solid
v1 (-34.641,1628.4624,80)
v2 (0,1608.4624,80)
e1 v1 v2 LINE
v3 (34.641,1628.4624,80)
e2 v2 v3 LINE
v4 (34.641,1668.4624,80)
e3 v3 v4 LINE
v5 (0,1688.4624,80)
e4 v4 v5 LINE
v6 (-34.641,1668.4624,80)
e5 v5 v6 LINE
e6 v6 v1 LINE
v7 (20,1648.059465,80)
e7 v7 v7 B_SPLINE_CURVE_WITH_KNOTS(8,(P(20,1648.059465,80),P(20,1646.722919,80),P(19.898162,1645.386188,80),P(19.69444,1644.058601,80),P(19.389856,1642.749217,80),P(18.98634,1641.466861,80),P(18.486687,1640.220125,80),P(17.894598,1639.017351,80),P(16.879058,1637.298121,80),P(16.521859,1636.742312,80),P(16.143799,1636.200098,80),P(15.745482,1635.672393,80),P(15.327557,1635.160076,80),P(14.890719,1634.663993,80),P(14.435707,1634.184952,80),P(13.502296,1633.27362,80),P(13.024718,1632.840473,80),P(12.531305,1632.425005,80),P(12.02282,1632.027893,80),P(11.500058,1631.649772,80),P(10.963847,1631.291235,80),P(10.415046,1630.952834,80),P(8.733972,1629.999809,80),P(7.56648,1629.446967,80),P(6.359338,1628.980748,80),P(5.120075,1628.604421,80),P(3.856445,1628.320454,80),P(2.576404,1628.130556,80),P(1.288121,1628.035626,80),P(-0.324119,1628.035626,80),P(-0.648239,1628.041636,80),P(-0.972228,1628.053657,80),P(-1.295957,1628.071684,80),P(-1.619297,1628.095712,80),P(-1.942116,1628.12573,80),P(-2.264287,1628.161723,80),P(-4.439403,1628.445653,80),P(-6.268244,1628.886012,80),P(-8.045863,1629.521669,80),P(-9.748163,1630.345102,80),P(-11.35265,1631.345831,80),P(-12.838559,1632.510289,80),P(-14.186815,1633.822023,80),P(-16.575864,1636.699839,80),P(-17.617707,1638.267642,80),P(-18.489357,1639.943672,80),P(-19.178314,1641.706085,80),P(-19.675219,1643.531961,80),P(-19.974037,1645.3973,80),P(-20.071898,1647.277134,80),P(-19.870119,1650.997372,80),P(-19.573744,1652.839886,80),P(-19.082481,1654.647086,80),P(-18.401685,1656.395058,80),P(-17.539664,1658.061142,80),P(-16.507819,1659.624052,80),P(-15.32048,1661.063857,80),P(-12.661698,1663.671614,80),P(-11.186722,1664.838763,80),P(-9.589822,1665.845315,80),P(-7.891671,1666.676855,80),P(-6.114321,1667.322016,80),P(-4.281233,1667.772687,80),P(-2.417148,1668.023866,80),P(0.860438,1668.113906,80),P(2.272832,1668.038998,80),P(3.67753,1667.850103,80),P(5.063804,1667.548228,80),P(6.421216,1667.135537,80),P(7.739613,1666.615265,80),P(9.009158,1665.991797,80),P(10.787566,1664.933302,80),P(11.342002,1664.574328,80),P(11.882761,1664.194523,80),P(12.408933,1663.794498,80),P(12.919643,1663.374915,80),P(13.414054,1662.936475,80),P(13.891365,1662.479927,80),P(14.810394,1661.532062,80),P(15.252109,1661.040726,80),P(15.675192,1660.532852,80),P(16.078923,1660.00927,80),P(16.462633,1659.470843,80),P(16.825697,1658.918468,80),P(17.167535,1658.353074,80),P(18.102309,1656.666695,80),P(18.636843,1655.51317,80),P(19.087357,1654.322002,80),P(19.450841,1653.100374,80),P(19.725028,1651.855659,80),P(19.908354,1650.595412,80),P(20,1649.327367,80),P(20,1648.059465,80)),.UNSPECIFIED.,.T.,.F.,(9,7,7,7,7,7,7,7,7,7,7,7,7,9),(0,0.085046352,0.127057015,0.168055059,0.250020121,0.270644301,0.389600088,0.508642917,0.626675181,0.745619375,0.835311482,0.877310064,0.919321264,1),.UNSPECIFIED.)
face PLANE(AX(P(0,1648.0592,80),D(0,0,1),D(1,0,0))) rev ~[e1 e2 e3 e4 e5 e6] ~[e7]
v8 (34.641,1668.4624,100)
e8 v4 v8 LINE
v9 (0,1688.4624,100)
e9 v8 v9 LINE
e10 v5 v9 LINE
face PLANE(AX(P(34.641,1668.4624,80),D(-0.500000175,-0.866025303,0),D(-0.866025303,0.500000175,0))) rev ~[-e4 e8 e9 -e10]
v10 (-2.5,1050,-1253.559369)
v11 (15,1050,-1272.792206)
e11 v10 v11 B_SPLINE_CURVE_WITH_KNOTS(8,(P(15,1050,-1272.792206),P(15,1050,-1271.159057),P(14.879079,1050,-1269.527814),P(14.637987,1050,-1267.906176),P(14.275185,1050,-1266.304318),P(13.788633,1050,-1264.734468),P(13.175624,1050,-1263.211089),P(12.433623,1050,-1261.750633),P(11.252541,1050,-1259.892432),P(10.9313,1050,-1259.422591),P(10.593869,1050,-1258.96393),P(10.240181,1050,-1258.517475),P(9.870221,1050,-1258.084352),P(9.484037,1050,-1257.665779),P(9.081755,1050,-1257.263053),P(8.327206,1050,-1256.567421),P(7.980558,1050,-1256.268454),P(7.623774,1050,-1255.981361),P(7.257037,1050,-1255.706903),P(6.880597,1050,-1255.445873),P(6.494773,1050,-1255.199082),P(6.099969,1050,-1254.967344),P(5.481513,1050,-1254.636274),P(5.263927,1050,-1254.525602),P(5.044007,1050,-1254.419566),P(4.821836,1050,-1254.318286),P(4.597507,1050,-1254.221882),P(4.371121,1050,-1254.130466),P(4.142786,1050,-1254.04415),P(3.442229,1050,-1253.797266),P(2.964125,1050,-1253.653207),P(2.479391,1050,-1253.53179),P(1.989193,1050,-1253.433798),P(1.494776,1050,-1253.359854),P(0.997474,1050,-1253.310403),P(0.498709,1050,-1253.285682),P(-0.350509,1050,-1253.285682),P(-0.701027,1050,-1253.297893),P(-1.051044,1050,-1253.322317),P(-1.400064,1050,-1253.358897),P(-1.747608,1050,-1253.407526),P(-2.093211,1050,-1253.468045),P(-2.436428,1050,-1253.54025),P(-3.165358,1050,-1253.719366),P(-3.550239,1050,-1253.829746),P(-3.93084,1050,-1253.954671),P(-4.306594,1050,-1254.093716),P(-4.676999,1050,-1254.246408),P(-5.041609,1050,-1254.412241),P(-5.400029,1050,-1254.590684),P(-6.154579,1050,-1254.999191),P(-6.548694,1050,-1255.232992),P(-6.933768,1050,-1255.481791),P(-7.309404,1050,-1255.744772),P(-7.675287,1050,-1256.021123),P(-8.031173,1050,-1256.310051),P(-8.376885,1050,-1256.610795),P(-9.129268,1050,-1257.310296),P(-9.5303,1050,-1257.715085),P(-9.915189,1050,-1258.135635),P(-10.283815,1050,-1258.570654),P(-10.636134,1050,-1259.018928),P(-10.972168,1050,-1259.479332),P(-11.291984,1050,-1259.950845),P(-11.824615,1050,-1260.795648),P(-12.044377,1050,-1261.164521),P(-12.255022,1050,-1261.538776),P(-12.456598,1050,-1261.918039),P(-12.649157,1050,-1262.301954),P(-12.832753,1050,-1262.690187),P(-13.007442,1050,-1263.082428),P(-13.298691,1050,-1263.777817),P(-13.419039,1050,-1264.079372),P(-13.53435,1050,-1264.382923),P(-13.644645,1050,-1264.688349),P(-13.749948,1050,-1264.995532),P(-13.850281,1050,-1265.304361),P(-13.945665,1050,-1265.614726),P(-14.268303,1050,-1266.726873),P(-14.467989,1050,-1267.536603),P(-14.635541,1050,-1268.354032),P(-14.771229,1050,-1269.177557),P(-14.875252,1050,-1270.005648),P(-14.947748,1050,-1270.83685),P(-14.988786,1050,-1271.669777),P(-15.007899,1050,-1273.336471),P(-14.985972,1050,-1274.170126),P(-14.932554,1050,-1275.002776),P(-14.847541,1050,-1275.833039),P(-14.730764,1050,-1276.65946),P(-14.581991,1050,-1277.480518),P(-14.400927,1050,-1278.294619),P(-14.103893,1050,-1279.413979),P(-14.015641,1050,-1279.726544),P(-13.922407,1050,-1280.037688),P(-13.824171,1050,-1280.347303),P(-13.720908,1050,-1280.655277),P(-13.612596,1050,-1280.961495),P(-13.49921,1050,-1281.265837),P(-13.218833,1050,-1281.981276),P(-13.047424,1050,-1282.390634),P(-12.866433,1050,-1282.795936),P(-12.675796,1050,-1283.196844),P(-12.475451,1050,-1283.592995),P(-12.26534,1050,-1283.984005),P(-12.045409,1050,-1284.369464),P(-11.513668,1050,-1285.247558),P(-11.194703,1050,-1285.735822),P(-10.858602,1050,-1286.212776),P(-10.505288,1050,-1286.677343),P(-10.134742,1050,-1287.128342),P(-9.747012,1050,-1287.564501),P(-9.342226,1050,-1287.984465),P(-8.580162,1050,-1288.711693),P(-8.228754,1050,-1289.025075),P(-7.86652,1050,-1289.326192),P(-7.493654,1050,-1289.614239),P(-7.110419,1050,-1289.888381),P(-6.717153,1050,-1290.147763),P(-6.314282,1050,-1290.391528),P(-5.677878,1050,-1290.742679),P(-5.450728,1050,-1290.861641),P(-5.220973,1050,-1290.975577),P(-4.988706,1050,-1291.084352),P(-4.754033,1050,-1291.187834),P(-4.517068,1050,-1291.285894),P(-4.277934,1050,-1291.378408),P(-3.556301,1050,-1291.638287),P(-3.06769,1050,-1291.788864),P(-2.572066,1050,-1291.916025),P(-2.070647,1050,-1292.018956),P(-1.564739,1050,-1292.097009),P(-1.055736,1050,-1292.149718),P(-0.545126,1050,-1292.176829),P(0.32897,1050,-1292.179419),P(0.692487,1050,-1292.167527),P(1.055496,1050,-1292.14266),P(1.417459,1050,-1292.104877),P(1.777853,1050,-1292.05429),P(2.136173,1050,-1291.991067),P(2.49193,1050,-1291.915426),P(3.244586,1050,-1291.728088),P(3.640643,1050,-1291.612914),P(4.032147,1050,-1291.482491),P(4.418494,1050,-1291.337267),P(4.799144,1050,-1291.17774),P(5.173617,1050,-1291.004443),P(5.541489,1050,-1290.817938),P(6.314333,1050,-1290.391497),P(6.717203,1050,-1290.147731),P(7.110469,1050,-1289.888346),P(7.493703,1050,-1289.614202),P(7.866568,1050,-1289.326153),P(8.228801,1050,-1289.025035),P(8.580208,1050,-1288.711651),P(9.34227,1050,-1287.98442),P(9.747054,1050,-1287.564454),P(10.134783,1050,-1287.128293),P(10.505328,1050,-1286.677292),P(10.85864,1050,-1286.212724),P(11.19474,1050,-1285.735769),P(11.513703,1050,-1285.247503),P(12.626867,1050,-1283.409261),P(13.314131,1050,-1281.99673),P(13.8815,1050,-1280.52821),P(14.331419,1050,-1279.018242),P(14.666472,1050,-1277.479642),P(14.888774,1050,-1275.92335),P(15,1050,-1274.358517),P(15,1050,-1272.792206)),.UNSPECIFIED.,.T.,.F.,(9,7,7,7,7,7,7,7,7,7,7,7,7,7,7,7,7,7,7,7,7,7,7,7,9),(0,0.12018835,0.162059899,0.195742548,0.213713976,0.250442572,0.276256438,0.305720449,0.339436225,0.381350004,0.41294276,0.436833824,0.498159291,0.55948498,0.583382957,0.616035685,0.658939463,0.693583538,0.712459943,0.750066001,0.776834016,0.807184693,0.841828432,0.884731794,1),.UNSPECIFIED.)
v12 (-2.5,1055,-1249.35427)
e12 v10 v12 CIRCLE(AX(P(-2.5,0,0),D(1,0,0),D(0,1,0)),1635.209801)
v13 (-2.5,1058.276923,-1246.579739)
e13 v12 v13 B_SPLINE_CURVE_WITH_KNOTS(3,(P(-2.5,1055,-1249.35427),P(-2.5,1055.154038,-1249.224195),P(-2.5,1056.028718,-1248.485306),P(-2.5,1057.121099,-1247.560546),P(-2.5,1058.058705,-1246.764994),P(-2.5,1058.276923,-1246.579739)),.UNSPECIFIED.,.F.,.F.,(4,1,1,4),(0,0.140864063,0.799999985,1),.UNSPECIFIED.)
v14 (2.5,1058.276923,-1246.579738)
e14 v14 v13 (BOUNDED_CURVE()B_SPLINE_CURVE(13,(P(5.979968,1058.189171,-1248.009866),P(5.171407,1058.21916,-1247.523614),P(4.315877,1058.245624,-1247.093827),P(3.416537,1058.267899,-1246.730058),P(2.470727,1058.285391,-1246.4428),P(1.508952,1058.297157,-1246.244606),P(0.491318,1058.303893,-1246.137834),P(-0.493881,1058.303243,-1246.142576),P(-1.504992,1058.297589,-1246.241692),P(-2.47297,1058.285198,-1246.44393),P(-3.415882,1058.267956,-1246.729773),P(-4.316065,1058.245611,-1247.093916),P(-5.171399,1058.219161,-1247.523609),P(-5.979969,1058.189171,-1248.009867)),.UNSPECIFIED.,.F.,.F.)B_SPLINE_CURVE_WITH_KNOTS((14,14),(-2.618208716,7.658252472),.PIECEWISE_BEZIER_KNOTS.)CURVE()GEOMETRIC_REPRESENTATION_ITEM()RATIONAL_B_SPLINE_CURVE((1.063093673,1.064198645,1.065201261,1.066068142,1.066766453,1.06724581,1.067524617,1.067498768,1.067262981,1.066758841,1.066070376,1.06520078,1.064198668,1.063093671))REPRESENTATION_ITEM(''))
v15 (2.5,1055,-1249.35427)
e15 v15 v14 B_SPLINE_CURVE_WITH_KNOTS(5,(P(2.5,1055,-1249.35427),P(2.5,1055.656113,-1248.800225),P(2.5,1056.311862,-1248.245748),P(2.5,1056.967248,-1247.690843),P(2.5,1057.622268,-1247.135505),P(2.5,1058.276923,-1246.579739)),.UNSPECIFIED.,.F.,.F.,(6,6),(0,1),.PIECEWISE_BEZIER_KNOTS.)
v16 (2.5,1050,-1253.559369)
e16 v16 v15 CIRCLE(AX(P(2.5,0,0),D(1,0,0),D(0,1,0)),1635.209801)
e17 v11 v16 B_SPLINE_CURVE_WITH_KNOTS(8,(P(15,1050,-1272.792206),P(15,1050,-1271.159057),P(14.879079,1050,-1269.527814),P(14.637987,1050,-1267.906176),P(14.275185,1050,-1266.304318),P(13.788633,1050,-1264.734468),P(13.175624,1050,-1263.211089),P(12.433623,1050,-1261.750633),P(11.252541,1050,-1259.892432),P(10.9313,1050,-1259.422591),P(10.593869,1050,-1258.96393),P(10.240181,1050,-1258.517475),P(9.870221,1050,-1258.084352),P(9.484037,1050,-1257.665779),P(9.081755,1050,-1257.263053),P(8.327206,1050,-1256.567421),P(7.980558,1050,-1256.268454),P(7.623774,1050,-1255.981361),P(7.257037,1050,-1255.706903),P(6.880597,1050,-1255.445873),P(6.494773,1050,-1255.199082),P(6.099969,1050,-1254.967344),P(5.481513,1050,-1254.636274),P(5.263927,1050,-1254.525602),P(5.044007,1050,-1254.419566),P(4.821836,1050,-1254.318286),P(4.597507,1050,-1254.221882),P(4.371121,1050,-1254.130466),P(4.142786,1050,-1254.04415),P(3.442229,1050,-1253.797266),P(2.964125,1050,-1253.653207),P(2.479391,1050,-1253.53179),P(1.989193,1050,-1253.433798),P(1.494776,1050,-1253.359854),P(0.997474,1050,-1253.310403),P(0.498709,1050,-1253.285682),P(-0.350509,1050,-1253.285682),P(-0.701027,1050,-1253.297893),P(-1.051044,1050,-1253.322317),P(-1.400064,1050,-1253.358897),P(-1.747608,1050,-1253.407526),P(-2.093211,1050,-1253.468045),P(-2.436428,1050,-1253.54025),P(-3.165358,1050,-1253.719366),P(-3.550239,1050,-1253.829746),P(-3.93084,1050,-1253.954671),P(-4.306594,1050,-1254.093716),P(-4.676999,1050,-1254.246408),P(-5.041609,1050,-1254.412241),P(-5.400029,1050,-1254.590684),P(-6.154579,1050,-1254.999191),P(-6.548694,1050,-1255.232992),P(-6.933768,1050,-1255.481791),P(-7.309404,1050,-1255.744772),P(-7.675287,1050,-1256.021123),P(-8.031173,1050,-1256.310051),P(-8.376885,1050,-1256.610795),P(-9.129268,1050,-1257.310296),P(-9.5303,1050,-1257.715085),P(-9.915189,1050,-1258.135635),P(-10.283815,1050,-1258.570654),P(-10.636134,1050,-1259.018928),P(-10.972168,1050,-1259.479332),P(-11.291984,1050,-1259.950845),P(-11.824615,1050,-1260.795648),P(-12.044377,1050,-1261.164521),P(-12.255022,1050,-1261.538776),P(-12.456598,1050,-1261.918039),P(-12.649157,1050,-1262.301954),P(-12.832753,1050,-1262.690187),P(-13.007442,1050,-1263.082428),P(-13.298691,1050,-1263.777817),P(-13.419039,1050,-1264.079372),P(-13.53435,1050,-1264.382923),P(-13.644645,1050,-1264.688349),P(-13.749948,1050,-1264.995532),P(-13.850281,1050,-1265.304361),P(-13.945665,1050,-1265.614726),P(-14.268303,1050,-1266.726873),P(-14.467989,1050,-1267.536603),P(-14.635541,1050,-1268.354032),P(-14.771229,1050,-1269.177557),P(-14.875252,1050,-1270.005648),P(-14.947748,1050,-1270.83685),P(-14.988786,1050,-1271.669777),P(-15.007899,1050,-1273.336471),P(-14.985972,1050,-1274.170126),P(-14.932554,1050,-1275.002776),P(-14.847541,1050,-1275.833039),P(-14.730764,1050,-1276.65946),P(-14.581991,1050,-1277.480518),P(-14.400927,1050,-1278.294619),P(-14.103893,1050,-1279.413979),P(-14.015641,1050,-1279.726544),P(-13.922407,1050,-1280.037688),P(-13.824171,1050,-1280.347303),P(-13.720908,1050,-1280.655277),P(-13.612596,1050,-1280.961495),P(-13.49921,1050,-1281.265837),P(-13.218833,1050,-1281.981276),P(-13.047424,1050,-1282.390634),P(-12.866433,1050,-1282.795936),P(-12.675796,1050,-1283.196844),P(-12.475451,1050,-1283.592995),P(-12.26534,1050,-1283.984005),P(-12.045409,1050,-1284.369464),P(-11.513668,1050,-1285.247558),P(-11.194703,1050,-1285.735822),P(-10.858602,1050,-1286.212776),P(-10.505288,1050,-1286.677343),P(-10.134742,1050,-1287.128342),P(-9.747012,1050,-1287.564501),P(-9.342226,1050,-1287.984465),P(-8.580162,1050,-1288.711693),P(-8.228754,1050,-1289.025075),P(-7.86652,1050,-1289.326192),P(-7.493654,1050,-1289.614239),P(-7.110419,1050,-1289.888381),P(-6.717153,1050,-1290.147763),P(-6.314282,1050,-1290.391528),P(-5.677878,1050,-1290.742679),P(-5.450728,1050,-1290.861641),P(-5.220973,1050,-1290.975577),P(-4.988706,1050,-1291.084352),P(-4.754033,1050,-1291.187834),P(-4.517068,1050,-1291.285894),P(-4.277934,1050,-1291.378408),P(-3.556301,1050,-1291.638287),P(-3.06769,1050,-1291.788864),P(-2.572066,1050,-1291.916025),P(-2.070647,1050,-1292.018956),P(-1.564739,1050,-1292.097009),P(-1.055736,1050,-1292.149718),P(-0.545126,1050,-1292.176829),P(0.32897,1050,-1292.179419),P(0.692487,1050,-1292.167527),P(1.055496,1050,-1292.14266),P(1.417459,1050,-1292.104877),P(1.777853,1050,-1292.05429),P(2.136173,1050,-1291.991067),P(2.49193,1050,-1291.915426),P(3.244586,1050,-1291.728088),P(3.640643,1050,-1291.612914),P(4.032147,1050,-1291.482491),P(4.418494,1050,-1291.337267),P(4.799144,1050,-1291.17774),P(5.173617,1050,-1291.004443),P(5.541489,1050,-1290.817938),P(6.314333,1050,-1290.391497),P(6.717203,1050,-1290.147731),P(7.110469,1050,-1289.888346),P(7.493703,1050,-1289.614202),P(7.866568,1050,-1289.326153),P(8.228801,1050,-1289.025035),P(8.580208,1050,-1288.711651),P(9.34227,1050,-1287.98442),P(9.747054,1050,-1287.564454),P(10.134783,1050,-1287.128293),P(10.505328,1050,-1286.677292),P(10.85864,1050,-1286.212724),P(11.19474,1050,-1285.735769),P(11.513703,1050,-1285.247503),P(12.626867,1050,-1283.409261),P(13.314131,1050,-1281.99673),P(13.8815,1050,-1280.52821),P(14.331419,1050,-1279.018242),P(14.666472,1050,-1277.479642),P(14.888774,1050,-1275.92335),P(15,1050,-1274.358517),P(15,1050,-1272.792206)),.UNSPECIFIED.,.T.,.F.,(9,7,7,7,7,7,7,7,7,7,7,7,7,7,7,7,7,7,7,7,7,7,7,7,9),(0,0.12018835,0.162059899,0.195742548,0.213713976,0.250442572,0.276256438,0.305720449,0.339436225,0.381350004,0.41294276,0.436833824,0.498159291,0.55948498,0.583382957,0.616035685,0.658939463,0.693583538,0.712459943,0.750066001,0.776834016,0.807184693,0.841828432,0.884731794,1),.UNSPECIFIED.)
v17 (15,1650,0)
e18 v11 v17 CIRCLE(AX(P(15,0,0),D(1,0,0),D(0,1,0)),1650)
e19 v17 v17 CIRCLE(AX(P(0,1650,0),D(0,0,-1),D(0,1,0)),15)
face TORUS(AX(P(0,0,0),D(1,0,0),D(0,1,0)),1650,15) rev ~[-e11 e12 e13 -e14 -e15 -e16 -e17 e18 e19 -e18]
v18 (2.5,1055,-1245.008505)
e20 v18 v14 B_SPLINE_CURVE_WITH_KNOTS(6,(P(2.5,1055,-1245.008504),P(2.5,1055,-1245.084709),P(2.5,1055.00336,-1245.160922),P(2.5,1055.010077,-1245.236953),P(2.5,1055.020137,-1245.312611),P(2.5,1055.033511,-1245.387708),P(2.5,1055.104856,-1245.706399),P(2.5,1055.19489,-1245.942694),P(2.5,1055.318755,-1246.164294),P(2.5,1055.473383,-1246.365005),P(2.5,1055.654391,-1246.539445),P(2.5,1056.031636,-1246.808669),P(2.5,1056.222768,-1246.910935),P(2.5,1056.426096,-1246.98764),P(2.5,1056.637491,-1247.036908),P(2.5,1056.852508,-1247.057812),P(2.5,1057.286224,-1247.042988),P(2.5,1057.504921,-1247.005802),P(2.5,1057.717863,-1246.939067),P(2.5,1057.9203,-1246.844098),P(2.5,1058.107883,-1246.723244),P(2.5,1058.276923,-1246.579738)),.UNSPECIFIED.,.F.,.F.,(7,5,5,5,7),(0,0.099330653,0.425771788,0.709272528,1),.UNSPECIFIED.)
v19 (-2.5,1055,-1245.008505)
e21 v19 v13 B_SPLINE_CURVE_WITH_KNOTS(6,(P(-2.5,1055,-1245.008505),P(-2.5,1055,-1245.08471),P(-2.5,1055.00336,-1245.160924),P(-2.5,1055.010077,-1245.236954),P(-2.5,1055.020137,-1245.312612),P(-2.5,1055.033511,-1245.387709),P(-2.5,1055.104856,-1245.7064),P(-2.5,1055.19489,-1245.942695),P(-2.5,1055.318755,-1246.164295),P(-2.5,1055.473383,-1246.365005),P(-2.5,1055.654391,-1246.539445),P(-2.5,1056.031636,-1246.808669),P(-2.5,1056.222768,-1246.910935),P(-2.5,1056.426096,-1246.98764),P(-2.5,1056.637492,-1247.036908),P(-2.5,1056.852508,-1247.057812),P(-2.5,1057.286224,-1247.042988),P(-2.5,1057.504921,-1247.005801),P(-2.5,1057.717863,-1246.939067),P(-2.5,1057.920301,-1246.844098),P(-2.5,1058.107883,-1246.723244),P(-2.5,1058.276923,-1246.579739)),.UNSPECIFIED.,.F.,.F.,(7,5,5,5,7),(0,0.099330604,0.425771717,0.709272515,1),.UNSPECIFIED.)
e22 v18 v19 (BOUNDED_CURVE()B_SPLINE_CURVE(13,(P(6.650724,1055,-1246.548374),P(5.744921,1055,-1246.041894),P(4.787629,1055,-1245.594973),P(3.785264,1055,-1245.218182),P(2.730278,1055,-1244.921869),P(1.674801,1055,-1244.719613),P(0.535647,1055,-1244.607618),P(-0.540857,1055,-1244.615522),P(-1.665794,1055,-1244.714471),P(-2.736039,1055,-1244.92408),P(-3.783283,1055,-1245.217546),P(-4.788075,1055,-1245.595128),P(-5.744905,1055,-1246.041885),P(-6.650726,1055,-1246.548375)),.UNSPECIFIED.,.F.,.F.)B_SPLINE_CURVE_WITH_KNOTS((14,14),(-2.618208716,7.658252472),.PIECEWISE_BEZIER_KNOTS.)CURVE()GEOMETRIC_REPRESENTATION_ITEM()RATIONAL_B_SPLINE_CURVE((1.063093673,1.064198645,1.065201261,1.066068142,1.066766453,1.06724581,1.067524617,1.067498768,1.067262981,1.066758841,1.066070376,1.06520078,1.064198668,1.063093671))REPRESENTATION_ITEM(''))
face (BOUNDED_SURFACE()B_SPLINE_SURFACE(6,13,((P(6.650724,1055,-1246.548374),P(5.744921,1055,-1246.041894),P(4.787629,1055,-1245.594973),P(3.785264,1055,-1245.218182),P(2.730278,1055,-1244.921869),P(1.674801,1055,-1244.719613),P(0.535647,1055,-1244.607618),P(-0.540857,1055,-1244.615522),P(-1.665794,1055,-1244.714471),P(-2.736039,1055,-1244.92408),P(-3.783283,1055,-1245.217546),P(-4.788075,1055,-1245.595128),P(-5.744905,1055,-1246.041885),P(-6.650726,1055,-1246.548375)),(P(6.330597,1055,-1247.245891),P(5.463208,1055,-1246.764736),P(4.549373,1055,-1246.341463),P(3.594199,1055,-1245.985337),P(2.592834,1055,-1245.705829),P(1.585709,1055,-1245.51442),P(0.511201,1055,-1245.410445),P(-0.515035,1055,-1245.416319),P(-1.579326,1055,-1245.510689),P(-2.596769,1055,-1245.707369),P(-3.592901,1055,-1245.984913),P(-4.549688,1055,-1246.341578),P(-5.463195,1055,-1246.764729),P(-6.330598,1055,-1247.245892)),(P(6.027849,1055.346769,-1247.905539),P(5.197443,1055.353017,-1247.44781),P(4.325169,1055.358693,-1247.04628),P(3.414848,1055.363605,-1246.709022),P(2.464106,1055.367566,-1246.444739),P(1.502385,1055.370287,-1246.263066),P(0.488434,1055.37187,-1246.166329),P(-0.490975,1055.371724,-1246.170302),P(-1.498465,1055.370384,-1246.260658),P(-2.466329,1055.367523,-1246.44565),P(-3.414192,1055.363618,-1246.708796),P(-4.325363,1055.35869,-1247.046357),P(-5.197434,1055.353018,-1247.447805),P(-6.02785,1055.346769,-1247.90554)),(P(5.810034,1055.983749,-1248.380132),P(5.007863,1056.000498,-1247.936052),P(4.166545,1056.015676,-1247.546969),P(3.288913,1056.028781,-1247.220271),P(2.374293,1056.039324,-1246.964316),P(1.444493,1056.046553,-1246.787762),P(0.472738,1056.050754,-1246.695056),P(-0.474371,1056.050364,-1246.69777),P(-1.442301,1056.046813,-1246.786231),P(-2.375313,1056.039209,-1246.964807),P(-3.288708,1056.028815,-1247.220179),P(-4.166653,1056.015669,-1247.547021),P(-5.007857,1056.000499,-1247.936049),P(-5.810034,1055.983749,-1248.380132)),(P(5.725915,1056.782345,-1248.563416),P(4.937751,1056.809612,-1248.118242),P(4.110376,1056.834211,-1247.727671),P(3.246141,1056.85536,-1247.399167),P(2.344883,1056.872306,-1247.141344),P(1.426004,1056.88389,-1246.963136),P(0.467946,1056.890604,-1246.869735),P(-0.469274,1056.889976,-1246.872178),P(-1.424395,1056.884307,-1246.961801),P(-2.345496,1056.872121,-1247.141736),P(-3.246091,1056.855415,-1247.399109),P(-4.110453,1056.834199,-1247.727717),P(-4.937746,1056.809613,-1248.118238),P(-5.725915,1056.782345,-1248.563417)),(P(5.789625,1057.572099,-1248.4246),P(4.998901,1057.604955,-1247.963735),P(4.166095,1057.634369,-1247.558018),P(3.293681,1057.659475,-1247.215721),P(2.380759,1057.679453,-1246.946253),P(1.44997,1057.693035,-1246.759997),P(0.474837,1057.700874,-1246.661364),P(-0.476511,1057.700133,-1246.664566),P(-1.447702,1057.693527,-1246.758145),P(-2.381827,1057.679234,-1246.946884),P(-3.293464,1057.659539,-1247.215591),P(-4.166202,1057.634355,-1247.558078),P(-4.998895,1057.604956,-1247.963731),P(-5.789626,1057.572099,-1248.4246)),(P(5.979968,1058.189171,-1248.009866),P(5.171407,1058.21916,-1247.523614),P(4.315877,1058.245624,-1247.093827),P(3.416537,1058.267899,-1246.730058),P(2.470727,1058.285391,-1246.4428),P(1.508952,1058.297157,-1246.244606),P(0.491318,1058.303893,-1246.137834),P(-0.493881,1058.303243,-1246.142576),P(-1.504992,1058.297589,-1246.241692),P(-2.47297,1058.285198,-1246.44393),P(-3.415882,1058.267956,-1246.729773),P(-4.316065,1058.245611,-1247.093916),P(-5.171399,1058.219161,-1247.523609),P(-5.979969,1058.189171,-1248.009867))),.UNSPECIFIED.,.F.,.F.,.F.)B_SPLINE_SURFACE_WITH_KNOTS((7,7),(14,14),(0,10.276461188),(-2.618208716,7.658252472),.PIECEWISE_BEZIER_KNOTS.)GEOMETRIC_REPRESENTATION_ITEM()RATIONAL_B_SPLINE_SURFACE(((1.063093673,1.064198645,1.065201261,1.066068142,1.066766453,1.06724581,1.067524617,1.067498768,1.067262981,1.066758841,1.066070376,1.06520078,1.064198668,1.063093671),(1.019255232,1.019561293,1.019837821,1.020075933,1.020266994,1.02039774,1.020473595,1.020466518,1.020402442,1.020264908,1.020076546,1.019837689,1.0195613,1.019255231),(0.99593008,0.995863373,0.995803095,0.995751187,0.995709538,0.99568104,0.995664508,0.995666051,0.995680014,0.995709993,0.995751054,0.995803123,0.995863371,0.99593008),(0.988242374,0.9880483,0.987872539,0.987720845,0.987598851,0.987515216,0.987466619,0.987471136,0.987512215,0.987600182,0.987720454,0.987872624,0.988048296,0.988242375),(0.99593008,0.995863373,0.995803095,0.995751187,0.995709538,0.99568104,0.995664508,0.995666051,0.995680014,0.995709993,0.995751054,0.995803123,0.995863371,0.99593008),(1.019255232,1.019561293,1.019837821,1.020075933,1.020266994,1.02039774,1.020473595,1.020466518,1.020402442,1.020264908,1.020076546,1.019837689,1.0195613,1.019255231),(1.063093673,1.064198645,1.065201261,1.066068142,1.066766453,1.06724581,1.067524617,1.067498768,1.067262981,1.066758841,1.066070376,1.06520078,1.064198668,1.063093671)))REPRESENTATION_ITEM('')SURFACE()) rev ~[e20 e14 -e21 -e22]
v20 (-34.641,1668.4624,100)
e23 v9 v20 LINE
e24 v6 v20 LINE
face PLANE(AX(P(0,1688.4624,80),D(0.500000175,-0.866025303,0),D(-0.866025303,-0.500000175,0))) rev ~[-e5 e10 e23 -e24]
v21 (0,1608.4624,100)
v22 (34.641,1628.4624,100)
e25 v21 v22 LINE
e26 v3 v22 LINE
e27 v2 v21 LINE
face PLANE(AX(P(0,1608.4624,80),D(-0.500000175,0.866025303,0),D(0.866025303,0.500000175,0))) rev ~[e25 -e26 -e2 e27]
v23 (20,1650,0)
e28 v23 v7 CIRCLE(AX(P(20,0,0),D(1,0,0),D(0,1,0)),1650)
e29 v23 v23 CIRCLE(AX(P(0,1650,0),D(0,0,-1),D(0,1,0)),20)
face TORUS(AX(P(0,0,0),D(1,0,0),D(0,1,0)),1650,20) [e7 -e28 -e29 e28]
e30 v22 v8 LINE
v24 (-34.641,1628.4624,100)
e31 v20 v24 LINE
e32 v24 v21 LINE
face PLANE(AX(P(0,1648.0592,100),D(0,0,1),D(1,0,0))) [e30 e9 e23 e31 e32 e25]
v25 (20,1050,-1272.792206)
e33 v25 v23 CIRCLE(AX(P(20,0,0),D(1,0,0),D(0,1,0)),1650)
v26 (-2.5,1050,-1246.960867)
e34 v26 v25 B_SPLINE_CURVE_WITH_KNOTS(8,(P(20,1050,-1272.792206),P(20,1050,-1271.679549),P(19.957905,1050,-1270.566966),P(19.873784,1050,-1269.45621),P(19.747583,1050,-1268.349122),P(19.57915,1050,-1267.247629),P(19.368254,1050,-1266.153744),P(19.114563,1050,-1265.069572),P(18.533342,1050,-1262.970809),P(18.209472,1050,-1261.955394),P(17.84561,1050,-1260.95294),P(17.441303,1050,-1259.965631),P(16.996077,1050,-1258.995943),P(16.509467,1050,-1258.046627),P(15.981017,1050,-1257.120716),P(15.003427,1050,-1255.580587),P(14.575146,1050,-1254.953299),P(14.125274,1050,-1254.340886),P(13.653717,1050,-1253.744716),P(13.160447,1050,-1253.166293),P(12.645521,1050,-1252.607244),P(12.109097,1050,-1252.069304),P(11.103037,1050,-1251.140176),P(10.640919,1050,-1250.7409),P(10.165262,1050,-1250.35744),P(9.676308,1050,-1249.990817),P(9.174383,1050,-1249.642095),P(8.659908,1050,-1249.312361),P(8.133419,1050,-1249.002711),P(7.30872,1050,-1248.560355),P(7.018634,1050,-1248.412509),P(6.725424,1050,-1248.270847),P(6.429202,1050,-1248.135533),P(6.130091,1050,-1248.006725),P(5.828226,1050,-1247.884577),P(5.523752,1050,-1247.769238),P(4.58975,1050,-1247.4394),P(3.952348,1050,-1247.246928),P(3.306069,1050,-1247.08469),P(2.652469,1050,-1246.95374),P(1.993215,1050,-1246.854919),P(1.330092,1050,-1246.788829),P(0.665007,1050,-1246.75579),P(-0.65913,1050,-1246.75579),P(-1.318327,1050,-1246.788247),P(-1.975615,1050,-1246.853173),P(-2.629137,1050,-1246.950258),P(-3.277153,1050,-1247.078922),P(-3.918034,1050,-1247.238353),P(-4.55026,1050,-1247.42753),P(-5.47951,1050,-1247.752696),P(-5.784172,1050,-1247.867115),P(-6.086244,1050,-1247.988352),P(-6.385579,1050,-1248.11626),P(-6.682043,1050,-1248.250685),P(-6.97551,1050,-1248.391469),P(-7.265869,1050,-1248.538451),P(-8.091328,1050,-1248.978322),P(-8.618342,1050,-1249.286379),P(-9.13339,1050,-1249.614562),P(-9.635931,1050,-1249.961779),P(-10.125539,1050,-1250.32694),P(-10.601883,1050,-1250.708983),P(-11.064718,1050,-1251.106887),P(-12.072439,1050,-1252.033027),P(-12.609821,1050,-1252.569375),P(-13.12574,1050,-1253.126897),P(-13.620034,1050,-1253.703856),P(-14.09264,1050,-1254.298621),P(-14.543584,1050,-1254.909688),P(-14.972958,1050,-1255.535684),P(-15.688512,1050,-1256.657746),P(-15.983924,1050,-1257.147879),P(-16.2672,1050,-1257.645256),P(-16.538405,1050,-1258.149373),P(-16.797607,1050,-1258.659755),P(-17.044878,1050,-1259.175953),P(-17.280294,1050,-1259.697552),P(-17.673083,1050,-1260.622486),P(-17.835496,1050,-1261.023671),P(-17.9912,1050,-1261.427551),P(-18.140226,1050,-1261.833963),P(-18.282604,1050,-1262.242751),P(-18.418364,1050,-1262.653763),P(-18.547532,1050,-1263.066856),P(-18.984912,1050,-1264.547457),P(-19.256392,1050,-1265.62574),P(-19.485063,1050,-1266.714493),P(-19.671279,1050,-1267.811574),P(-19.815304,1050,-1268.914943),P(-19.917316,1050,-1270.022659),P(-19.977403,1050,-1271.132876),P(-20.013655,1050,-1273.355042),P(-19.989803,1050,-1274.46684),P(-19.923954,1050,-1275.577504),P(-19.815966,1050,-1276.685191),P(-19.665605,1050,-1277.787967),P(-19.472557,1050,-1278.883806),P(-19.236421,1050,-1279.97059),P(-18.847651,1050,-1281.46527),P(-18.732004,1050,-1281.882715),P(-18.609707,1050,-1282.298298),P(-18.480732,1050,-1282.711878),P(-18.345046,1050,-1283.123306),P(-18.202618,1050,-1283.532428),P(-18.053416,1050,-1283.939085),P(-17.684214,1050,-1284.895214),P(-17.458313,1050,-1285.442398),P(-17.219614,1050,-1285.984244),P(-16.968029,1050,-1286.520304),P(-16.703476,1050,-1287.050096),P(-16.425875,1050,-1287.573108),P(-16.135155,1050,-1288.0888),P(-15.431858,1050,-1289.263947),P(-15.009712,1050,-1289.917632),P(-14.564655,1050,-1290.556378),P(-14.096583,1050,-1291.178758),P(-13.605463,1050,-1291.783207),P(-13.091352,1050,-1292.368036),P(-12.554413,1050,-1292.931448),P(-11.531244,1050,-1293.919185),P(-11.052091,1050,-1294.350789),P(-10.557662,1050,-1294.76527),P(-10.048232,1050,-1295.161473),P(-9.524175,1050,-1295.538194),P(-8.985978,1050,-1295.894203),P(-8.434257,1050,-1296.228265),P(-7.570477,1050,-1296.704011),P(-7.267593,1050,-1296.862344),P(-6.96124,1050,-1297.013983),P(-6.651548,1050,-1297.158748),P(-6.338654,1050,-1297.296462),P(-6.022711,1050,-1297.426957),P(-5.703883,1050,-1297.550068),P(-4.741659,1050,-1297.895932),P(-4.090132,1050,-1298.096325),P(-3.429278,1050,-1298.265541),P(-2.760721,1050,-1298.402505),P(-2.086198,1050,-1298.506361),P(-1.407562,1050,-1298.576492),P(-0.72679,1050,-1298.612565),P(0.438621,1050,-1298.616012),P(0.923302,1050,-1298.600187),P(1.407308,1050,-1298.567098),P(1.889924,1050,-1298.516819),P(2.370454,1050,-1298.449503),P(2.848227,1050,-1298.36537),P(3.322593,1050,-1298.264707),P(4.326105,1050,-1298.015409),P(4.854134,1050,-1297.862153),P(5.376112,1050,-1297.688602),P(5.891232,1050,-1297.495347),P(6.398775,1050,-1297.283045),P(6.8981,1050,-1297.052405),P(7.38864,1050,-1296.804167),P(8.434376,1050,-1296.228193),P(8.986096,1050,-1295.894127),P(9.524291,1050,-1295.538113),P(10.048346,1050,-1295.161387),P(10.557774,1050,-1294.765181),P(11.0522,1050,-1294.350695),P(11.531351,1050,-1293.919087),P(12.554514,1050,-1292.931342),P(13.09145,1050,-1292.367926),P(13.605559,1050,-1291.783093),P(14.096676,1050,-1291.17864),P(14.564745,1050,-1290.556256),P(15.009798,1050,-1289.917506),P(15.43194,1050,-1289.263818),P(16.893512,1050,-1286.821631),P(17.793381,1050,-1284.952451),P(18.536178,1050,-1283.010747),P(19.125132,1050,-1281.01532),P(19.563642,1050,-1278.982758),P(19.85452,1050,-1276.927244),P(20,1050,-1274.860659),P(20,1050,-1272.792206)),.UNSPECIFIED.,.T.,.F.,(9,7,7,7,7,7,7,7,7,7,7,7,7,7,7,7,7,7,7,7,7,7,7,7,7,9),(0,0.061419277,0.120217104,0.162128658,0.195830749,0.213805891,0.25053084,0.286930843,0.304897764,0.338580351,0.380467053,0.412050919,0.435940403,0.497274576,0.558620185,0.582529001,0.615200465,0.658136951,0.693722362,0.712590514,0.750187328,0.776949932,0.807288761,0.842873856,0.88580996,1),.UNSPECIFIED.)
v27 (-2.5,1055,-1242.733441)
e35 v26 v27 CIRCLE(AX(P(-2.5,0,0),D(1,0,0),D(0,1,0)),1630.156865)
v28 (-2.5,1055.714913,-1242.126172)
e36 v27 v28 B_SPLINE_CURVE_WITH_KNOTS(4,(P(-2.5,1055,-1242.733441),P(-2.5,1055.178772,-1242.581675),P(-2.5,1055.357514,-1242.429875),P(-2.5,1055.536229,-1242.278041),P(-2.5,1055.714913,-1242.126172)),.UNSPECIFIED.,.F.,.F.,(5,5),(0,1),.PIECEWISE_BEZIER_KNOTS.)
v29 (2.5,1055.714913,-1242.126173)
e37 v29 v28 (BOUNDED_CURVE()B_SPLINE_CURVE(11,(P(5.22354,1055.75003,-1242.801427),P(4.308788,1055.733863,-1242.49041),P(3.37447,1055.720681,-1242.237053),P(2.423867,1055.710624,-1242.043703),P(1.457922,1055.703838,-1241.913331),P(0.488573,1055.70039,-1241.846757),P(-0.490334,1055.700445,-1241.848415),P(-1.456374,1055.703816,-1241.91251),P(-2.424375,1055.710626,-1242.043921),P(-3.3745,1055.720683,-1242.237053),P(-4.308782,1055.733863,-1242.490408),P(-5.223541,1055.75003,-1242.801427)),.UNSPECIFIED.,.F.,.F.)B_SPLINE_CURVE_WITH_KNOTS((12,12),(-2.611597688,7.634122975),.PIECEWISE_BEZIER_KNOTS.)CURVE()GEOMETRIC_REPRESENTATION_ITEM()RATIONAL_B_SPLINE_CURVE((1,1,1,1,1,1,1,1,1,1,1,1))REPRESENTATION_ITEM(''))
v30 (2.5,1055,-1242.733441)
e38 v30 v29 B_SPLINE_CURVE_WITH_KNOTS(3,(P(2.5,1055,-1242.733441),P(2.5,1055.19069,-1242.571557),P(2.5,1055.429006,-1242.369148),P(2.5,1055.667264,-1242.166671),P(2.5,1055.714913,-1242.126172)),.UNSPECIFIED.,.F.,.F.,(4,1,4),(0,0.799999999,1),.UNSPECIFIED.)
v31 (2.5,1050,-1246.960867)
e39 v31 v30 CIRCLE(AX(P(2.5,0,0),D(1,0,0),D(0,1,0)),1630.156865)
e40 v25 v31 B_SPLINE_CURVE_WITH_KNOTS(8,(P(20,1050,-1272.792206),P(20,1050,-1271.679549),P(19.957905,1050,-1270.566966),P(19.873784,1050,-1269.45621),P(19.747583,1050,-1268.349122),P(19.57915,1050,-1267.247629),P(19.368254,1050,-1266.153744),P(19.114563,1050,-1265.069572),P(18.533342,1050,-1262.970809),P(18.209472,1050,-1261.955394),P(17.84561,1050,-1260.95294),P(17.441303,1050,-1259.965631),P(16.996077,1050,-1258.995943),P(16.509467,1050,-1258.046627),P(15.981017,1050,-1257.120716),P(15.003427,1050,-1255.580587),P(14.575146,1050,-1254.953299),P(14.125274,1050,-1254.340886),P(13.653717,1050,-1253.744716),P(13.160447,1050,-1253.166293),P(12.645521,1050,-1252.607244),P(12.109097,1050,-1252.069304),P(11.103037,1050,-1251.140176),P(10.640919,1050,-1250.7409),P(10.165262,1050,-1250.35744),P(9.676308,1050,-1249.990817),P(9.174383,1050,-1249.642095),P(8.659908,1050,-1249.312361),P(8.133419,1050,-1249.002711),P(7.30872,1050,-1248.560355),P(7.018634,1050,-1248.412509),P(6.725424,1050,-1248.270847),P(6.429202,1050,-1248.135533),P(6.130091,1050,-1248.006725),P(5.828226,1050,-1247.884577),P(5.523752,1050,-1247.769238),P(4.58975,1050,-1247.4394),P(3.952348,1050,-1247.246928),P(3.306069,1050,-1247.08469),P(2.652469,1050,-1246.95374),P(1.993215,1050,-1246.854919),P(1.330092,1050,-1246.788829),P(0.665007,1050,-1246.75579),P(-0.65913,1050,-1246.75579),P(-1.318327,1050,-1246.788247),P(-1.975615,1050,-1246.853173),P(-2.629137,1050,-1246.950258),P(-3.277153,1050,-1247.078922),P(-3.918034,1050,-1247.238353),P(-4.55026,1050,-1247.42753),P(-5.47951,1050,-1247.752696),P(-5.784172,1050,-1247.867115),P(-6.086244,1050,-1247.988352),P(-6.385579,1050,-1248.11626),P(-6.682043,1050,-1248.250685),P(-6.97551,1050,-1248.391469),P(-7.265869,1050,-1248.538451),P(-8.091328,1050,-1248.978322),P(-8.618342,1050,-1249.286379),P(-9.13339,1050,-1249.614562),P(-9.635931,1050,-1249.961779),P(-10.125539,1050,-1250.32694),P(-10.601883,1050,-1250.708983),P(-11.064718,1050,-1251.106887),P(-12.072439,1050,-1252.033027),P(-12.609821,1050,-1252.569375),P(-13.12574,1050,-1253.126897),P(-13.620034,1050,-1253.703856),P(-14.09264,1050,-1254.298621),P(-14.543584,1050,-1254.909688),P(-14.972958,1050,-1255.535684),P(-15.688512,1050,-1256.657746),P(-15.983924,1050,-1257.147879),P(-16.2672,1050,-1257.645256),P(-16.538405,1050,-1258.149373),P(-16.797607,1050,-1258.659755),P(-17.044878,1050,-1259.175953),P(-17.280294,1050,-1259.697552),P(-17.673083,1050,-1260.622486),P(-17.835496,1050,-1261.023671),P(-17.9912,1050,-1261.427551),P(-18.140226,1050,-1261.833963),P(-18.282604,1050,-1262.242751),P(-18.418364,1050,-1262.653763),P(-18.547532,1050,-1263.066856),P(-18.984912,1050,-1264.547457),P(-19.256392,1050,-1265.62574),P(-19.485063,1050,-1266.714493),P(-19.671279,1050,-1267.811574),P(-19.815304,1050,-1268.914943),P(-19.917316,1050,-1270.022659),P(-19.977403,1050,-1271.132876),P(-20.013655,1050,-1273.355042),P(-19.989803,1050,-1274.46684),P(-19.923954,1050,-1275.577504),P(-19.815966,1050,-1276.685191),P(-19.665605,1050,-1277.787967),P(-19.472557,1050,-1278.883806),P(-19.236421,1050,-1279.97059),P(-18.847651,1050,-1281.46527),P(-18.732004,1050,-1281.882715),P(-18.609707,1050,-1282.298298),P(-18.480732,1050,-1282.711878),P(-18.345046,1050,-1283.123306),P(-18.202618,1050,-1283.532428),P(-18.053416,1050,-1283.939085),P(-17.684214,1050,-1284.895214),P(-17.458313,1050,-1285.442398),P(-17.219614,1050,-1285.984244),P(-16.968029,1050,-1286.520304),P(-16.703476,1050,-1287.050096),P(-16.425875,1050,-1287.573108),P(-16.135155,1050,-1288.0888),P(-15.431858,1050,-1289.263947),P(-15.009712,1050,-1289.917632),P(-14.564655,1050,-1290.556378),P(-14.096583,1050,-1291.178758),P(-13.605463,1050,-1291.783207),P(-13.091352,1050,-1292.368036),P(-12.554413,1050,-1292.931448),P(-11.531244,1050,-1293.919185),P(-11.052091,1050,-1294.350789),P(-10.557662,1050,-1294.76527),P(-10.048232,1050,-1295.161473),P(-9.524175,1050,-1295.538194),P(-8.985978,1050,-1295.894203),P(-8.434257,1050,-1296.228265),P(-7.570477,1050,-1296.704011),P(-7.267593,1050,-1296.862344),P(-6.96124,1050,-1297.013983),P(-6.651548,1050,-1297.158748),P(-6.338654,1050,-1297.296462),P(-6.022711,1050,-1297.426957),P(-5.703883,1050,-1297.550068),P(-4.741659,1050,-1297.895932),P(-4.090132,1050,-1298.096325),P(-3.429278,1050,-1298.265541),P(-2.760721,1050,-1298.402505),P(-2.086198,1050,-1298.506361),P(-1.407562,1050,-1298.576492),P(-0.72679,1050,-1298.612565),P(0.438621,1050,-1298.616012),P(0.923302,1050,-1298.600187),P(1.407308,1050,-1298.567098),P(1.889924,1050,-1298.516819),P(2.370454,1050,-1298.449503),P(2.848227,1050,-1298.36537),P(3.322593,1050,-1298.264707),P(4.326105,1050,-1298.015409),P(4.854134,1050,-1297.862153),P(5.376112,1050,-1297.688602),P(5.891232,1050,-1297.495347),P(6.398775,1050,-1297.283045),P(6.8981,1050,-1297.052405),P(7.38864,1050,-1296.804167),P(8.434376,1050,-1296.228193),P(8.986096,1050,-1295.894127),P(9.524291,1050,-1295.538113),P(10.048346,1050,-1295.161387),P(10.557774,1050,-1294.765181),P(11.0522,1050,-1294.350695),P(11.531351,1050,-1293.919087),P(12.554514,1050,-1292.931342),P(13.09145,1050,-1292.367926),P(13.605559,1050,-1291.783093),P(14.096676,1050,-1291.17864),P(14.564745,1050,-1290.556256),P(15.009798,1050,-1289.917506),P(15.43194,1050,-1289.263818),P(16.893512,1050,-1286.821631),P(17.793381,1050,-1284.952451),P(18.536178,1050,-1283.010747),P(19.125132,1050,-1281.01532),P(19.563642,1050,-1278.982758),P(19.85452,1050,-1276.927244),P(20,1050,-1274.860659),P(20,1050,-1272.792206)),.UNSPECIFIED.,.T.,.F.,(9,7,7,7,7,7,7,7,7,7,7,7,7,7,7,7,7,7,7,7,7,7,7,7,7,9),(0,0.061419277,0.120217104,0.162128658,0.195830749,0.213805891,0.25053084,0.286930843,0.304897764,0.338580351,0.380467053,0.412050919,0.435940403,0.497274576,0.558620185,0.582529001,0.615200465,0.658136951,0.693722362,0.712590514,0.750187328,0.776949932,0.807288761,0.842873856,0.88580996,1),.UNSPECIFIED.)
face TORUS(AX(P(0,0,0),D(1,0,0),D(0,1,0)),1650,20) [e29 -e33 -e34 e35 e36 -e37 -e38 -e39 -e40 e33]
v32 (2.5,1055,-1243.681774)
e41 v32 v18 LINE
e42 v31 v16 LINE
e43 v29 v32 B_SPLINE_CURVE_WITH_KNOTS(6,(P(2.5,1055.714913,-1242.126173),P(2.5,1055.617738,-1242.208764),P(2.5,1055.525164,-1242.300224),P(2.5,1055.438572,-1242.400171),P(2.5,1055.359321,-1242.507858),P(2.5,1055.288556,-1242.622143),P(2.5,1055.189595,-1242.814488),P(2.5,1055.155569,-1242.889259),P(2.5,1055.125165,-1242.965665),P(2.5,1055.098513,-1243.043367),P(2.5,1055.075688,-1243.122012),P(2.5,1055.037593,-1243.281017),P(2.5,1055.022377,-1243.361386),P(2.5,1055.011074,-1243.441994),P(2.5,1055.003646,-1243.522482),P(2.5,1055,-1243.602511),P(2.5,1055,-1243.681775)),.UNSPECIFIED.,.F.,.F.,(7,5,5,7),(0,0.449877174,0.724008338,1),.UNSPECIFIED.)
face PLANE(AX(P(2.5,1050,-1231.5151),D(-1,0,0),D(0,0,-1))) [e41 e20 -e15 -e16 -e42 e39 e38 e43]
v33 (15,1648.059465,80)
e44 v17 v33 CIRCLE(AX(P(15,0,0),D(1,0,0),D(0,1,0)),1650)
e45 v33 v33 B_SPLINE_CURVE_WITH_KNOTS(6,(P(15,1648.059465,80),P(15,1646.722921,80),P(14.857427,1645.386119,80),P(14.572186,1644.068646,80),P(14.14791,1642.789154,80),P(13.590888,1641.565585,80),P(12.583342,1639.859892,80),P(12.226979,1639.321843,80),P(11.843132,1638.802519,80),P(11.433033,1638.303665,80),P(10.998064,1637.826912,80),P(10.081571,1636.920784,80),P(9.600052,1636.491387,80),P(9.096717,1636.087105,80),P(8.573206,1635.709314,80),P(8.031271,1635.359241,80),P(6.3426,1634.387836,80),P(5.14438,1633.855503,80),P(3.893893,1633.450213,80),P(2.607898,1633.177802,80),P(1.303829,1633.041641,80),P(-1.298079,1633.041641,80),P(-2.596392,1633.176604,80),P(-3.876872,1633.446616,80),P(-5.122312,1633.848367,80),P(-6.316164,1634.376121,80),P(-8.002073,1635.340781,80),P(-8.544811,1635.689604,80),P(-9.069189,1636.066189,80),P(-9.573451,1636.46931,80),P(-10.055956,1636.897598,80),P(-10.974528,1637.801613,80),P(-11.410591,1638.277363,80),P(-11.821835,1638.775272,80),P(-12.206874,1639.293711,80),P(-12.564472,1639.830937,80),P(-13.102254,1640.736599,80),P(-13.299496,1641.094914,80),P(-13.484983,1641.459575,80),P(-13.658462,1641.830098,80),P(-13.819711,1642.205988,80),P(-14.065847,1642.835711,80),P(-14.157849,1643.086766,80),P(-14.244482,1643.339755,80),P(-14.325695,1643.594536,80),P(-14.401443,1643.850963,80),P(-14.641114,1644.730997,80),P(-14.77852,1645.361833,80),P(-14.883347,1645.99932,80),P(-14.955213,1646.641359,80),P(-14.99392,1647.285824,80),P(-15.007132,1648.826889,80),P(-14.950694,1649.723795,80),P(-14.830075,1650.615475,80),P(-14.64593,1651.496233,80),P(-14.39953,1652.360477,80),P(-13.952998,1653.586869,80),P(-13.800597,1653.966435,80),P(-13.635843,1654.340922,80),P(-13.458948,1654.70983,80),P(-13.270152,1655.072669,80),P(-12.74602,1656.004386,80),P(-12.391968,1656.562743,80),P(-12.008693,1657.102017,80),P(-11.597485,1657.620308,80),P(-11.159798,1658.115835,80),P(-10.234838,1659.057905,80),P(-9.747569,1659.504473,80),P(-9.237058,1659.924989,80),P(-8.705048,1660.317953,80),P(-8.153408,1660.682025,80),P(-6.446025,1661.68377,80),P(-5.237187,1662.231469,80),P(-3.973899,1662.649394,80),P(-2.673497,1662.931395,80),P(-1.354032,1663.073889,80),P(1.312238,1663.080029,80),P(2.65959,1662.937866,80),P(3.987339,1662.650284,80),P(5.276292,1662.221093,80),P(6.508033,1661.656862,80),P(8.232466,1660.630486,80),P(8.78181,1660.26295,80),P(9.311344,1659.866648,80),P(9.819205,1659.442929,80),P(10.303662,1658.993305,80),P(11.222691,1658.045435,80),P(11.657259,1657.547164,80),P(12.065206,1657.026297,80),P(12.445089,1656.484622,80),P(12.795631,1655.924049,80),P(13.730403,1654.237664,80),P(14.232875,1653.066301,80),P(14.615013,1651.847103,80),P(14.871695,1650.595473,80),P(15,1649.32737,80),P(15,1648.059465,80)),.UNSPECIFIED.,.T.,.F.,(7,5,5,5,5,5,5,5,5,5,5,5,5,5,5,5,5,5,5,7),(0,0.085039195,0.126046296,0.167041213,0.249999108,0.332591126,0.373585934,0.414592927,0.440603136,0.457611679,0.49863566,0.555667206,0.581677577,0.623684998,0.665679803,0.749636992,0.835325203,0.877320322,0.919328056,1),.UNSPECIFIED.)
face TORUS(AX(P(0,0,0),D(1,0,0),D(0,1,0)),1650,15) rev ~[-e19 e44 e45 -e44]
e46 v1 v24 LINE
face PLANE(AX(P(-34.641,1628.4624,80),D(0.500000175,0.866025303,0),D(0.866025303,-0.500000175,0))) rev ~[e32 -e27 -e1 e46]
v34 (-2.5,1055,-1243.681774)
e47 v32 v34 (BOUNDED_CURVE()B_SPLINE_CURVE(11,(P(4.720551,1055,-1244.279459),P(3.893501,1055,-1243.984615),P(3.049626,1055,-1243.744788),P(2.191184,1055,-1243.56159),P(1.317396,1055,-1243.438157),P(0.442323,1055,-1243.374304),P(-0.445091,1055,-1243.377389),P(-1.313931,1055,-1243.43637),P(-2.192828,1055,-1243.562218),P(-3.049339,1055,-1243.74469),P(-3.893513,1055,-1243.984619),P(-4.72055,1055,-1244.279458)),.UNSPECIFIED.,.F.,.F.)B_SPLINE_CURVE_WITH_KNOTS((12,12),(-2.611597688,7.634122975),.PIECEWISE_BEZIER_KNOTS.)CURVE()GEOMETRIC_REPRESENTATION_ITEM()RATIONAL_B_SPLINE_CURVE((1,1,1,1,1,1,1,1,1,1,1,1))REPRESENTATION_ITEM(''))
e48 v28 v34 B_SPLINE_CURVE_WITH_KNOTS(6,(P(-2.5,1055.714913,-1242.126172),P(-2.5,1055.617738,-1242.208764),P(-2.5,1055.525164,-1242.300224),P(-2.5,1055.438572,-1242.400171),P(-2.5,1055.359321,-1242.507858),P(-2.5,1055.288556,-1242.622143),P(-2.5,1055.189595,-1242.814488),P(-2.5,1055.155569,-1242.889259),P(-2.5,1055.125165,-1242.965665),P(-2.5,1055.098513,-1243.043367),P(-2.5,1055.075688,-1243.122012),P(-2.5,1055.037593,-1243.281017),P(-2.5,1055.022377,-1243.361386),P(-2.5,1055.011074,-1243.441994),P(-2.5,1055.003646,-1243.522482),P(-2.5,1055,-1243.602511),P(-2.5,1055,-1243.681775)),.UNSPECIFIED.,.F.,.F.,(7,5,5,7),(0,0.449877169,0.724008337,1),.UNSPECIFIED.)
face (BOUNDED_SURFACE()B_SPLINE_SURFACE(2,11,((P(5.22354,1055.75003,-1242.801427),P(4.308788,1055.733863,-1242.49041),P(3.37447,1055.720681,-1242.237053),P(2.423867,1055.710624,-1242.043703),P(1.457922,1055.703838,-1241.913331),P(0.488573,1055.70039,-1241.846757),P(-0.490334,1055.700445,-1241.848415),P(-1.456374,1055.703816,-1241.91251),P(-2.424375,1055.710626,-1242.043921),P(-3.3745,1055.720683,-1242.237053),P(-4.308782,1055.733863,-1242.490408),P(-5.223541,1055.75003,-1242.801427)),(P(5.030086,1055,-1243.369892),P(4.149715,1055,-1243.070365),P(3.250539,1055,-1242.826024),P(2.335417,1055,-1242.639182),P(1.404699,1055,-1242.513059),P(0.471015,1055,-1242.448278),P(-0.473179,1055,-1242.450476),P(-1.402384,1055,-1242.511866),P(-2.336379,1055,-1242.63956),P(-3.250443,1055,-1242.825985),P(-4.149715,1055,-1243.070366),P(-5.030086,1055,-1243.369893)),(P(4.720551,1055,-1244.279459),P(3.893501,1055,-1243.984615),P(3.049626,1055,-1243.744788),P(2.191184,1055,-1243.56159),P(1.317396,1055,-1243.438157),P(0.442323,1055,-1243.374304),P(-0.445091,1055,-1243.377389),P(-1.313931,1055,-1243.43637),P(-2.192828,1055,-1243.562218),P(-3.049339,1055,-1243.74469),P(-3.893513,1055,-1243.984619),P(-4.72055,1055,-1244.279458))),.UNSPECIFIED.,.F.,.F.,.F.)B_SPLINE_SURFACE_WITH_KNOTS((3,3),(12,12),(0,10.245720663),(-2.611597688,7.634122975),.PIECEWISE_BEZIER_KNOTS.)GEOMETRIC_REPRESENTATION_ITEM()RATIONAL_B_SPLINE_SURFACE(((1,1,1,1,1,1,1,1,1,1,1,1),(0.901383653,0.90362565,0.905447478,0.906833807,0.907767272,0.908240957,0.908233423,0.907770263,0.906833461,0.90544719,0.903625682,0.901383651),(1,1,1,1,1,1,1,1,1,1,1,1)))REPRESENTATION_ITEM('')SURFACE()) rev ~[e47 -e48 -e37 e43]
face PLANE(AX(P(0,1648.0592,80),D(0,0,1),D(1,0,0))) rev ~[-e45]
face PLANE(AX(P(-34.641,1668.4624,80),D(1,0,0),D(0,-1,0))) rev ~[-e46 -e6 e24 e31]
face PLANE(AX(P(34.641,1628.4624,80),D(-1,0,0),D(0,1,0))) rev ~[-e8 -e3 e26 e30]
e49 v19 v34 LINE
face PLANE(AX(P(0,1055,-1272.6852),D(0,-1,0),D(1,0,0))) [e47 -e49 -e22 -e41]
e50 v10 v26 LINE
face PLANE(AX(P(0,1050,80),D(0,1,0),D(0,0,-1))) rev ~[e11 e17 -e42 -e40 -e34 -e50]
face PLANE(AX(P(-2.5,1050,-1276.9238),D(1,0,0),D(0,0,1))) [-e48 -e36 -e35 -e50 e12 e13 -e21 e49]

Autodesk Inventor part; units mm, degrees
ref_plane "YZ Plane" through (0, 0, 0) normal (1, 0, 0) x (0, 1, 0)
ref_plane "XZ Plane" through (0, 0, 0) normal (0, 1, 0) x (-1, 0, 0)
sketch "Sketch1" plane through (0, 0, 0) normal (1, 0, 0) x (0, 1, 0)
  circle A0 centre (0, 0) radius 1650
  dimension "d0" = 3300
sketch "Sketch2" plane through (0, 0, 0) normal (0, 0, 1) x (1, 0, 0)
  circle A0 centre (0, 1650) radius 20
  point P0 (0, 0)
  dimension "d1" = 1650
  dimension "d2" = 0
  dimension "d3" = 40
sweep "Sweep1" add profiles "Sketch2" path "Sketch1"
sketch "Sketch3" plane through (0, 0, 0) normal (0, 0, 1) x (1, 0, 0)
  circle A0 centre (0, 1650) radius 15
  point P0 (0, 0)
  dimension "d6" = 30
  dimension "d7" = 0
  dimension "d8" = 1650
sweep "Sweep2" cut profiles "Sketch3" path "Sketch1"
sketch "Sketch4" plane through (0, 0, 0) normal (1, 0, 0) x (0, 1, 0)
  line L0 (1050, 1730) -> (1050, -1730)
  line L1 (1050, 80) -> (2780, 80)
  line L2 (2780, 80) -> (2780, 1730)
  line L3 (1050, 1730) -> (1180.0646, 1730)
  line L4 (1180.0646, 1730) -> (2780, 1730)
  line L5 (1050, 1730) -> (-1730, 1730)
  line L6 (-1730, 1730) -> (-1730, -1730)
  line L7 (-1730, -1730) -> (1050, -1730)
  point P0 (0, 0)
  dimension "d12" = 3460
  dimension "d13" = 1730
  dimension "d14" = 1050
  dimension "d15" = 1730
  dimension "d16" = 1730
  dimension "d17" = 80
extrude "Extrusion1" cut sketch "Sketch4" along normal mid plane 80
sketch "Sketch5" plane through (0, 1050, -1272.6852) normal (0, -1, 0) x (1, 0, 0)
  line L0 (2.5, -4.2386) -> (-2.5, -4.2386)
  line L1 (-2.5, -4.2386) -> (-2.5, 41.1701)
  line L2 (-2.5, 41.1701) -> (2.5, 41.1701)
  line L3 (2.5, 41.1701) -> (2.5, -4.2386)
  line L4 (0, 1628.4117) -> (0, -301.6563) projected
  point P0 (0, 1272.6852)
  dimension "d20" = 5
  dimension "d21" = 2.5
extrude "Extrusion2" cut sketch "Sketch5" against normal blind 5
fillet "Fillet2" radius 2 2 edges at (0, 1055, -1249.0797) (0, 1055, -1242.5277)
ref_plane "Work Plane1" through (0, 0, -1250) normal (0, 0, 1) x (1, 0, 0)
sketch "Sketch6" plane through (0, 1648.0592, 80) normal (0, 0, 1) x (1, 0, 0)
  line L0 (0, 370.5272) -> (0, -1984.4902) projected
  line L1 (0, 40.4032) -> (-34.641, 20.4032)
  line L2 (-34.641, 20.4032) -> (-34.641, -19.5968)
  line L3 (-34.641, -19.5968) -> (0, -39.5968)
  line L4 (0, -39.5968) -> (34.641, -19.5968)
  line L5 (34.641, -19.5968) -> (34.641, 20.4032)
  line L6 (34.641, 20.4032) -> (0, 40.4032)
  point P0 (0, -1648.0592)
  dimension "d32" = 120
  dimension "d33" = 120
  dimension "d34" = 40
  dimension "d35" = 120
  dimension "d36" = 120
  dimension "d37" = 120
extrude "Extrusion4" add sketch "Sketch6" along normal blind 20
equation "\"d0\" = hoop_radius_large"
equation "\"d1\" = 0.5 * d0"
equation "\"d3\" = hoop_width_small"
equation "\"d6\" = hoop_width_small - hoop_thickness_small"
equation "\"d8\" = 0.5 * d0"
equation "\"d12\" = 2 * hoop_width_large + d0"
equation "\"d13\" = 0.5 * d12"
equation "\"d14\" = 0.5 * hoop_radius_large - hoop_height_small"
equation "\"d15\" = 0.5 * d12"
equation "\"d16\" = d13"
equation "\"d17\" = hoop_width_large"
equation "\"d18\" = hoop_width_large"
equation "\"d20\" = hoop_cable_diam"
equation "\"d21\" = 0.5 * d20"
equation "\"d22\" = hoop_cable_diam"
equation "\"hoop_radius_large\" = 3300"
equation "\"hoop_width_large\" = 80"
equation "\"hoop_thickness_small\" = 10"
equation "\"hoop_width_small\" = 40"
equation "\"rack_tooth_thickness\" = 5"
equation "\"rack_tooth_addendum\" = 5"
equation "\"rack_tooth_dedendum\" = 5"
equation "\"hoop_bearing_length\" = 5deg"
equation "\"hoop_cable_diam\" = 5"
equation "\"secure_arm_radii\" = 9"
equation "\"secure_arm_hold_length\" = 35"
equation "\"secure_arm_angle\" = 20deg"
equation "\"hoop_cable_pulley_diam\" = 22"
equation "\"support_frame_squareBarThickness\" = 5"
equation "\"support_frame_squareBarFillet\" = 2"
equation "\"support_baseClamp_platformThickness\" = 15"
equation "\"support_baseClamp_platformWidthBuffer\" = 0"
equation "\"support_baseClamp_platformLengthBuffer\" = 35"
equation "\"support_frame_endHoleBuffer\" = 25"
equation "\"support_baseClamp_thickness\" = 8"
equation "\"support_baseClamp_sleeveSweepTerminationAngle\" = 55deg"
equation "\"support_baseClamp_sleeveHoleDiameter\" = 12"
equation "\"hoop_angle_z\" = 45deg"
equation "\"hoop_tabs_hole\" = 12"
equation "\"hoop_tabs_thickness\" = 6"
equation "\"wheelchair_deployed_length\" = 1067"
equation "\"wheelchair_deployed_height\" = 914"
equation "\"wheelchair_deployed_width\" = 635"
equation "\"sm_varx_member_tolerance\" = 0.5"
equation "\"sm_varx_squareBarThickness\" = 2.5"
equation "\"sm_varx_pinPlate_holeDiameter\" = 5"
equation "\"sm_varx_pinPlate_thickness\" = 5"
equation "\"hoop_height_small\" = 600"
properties part number "large_hoop"
